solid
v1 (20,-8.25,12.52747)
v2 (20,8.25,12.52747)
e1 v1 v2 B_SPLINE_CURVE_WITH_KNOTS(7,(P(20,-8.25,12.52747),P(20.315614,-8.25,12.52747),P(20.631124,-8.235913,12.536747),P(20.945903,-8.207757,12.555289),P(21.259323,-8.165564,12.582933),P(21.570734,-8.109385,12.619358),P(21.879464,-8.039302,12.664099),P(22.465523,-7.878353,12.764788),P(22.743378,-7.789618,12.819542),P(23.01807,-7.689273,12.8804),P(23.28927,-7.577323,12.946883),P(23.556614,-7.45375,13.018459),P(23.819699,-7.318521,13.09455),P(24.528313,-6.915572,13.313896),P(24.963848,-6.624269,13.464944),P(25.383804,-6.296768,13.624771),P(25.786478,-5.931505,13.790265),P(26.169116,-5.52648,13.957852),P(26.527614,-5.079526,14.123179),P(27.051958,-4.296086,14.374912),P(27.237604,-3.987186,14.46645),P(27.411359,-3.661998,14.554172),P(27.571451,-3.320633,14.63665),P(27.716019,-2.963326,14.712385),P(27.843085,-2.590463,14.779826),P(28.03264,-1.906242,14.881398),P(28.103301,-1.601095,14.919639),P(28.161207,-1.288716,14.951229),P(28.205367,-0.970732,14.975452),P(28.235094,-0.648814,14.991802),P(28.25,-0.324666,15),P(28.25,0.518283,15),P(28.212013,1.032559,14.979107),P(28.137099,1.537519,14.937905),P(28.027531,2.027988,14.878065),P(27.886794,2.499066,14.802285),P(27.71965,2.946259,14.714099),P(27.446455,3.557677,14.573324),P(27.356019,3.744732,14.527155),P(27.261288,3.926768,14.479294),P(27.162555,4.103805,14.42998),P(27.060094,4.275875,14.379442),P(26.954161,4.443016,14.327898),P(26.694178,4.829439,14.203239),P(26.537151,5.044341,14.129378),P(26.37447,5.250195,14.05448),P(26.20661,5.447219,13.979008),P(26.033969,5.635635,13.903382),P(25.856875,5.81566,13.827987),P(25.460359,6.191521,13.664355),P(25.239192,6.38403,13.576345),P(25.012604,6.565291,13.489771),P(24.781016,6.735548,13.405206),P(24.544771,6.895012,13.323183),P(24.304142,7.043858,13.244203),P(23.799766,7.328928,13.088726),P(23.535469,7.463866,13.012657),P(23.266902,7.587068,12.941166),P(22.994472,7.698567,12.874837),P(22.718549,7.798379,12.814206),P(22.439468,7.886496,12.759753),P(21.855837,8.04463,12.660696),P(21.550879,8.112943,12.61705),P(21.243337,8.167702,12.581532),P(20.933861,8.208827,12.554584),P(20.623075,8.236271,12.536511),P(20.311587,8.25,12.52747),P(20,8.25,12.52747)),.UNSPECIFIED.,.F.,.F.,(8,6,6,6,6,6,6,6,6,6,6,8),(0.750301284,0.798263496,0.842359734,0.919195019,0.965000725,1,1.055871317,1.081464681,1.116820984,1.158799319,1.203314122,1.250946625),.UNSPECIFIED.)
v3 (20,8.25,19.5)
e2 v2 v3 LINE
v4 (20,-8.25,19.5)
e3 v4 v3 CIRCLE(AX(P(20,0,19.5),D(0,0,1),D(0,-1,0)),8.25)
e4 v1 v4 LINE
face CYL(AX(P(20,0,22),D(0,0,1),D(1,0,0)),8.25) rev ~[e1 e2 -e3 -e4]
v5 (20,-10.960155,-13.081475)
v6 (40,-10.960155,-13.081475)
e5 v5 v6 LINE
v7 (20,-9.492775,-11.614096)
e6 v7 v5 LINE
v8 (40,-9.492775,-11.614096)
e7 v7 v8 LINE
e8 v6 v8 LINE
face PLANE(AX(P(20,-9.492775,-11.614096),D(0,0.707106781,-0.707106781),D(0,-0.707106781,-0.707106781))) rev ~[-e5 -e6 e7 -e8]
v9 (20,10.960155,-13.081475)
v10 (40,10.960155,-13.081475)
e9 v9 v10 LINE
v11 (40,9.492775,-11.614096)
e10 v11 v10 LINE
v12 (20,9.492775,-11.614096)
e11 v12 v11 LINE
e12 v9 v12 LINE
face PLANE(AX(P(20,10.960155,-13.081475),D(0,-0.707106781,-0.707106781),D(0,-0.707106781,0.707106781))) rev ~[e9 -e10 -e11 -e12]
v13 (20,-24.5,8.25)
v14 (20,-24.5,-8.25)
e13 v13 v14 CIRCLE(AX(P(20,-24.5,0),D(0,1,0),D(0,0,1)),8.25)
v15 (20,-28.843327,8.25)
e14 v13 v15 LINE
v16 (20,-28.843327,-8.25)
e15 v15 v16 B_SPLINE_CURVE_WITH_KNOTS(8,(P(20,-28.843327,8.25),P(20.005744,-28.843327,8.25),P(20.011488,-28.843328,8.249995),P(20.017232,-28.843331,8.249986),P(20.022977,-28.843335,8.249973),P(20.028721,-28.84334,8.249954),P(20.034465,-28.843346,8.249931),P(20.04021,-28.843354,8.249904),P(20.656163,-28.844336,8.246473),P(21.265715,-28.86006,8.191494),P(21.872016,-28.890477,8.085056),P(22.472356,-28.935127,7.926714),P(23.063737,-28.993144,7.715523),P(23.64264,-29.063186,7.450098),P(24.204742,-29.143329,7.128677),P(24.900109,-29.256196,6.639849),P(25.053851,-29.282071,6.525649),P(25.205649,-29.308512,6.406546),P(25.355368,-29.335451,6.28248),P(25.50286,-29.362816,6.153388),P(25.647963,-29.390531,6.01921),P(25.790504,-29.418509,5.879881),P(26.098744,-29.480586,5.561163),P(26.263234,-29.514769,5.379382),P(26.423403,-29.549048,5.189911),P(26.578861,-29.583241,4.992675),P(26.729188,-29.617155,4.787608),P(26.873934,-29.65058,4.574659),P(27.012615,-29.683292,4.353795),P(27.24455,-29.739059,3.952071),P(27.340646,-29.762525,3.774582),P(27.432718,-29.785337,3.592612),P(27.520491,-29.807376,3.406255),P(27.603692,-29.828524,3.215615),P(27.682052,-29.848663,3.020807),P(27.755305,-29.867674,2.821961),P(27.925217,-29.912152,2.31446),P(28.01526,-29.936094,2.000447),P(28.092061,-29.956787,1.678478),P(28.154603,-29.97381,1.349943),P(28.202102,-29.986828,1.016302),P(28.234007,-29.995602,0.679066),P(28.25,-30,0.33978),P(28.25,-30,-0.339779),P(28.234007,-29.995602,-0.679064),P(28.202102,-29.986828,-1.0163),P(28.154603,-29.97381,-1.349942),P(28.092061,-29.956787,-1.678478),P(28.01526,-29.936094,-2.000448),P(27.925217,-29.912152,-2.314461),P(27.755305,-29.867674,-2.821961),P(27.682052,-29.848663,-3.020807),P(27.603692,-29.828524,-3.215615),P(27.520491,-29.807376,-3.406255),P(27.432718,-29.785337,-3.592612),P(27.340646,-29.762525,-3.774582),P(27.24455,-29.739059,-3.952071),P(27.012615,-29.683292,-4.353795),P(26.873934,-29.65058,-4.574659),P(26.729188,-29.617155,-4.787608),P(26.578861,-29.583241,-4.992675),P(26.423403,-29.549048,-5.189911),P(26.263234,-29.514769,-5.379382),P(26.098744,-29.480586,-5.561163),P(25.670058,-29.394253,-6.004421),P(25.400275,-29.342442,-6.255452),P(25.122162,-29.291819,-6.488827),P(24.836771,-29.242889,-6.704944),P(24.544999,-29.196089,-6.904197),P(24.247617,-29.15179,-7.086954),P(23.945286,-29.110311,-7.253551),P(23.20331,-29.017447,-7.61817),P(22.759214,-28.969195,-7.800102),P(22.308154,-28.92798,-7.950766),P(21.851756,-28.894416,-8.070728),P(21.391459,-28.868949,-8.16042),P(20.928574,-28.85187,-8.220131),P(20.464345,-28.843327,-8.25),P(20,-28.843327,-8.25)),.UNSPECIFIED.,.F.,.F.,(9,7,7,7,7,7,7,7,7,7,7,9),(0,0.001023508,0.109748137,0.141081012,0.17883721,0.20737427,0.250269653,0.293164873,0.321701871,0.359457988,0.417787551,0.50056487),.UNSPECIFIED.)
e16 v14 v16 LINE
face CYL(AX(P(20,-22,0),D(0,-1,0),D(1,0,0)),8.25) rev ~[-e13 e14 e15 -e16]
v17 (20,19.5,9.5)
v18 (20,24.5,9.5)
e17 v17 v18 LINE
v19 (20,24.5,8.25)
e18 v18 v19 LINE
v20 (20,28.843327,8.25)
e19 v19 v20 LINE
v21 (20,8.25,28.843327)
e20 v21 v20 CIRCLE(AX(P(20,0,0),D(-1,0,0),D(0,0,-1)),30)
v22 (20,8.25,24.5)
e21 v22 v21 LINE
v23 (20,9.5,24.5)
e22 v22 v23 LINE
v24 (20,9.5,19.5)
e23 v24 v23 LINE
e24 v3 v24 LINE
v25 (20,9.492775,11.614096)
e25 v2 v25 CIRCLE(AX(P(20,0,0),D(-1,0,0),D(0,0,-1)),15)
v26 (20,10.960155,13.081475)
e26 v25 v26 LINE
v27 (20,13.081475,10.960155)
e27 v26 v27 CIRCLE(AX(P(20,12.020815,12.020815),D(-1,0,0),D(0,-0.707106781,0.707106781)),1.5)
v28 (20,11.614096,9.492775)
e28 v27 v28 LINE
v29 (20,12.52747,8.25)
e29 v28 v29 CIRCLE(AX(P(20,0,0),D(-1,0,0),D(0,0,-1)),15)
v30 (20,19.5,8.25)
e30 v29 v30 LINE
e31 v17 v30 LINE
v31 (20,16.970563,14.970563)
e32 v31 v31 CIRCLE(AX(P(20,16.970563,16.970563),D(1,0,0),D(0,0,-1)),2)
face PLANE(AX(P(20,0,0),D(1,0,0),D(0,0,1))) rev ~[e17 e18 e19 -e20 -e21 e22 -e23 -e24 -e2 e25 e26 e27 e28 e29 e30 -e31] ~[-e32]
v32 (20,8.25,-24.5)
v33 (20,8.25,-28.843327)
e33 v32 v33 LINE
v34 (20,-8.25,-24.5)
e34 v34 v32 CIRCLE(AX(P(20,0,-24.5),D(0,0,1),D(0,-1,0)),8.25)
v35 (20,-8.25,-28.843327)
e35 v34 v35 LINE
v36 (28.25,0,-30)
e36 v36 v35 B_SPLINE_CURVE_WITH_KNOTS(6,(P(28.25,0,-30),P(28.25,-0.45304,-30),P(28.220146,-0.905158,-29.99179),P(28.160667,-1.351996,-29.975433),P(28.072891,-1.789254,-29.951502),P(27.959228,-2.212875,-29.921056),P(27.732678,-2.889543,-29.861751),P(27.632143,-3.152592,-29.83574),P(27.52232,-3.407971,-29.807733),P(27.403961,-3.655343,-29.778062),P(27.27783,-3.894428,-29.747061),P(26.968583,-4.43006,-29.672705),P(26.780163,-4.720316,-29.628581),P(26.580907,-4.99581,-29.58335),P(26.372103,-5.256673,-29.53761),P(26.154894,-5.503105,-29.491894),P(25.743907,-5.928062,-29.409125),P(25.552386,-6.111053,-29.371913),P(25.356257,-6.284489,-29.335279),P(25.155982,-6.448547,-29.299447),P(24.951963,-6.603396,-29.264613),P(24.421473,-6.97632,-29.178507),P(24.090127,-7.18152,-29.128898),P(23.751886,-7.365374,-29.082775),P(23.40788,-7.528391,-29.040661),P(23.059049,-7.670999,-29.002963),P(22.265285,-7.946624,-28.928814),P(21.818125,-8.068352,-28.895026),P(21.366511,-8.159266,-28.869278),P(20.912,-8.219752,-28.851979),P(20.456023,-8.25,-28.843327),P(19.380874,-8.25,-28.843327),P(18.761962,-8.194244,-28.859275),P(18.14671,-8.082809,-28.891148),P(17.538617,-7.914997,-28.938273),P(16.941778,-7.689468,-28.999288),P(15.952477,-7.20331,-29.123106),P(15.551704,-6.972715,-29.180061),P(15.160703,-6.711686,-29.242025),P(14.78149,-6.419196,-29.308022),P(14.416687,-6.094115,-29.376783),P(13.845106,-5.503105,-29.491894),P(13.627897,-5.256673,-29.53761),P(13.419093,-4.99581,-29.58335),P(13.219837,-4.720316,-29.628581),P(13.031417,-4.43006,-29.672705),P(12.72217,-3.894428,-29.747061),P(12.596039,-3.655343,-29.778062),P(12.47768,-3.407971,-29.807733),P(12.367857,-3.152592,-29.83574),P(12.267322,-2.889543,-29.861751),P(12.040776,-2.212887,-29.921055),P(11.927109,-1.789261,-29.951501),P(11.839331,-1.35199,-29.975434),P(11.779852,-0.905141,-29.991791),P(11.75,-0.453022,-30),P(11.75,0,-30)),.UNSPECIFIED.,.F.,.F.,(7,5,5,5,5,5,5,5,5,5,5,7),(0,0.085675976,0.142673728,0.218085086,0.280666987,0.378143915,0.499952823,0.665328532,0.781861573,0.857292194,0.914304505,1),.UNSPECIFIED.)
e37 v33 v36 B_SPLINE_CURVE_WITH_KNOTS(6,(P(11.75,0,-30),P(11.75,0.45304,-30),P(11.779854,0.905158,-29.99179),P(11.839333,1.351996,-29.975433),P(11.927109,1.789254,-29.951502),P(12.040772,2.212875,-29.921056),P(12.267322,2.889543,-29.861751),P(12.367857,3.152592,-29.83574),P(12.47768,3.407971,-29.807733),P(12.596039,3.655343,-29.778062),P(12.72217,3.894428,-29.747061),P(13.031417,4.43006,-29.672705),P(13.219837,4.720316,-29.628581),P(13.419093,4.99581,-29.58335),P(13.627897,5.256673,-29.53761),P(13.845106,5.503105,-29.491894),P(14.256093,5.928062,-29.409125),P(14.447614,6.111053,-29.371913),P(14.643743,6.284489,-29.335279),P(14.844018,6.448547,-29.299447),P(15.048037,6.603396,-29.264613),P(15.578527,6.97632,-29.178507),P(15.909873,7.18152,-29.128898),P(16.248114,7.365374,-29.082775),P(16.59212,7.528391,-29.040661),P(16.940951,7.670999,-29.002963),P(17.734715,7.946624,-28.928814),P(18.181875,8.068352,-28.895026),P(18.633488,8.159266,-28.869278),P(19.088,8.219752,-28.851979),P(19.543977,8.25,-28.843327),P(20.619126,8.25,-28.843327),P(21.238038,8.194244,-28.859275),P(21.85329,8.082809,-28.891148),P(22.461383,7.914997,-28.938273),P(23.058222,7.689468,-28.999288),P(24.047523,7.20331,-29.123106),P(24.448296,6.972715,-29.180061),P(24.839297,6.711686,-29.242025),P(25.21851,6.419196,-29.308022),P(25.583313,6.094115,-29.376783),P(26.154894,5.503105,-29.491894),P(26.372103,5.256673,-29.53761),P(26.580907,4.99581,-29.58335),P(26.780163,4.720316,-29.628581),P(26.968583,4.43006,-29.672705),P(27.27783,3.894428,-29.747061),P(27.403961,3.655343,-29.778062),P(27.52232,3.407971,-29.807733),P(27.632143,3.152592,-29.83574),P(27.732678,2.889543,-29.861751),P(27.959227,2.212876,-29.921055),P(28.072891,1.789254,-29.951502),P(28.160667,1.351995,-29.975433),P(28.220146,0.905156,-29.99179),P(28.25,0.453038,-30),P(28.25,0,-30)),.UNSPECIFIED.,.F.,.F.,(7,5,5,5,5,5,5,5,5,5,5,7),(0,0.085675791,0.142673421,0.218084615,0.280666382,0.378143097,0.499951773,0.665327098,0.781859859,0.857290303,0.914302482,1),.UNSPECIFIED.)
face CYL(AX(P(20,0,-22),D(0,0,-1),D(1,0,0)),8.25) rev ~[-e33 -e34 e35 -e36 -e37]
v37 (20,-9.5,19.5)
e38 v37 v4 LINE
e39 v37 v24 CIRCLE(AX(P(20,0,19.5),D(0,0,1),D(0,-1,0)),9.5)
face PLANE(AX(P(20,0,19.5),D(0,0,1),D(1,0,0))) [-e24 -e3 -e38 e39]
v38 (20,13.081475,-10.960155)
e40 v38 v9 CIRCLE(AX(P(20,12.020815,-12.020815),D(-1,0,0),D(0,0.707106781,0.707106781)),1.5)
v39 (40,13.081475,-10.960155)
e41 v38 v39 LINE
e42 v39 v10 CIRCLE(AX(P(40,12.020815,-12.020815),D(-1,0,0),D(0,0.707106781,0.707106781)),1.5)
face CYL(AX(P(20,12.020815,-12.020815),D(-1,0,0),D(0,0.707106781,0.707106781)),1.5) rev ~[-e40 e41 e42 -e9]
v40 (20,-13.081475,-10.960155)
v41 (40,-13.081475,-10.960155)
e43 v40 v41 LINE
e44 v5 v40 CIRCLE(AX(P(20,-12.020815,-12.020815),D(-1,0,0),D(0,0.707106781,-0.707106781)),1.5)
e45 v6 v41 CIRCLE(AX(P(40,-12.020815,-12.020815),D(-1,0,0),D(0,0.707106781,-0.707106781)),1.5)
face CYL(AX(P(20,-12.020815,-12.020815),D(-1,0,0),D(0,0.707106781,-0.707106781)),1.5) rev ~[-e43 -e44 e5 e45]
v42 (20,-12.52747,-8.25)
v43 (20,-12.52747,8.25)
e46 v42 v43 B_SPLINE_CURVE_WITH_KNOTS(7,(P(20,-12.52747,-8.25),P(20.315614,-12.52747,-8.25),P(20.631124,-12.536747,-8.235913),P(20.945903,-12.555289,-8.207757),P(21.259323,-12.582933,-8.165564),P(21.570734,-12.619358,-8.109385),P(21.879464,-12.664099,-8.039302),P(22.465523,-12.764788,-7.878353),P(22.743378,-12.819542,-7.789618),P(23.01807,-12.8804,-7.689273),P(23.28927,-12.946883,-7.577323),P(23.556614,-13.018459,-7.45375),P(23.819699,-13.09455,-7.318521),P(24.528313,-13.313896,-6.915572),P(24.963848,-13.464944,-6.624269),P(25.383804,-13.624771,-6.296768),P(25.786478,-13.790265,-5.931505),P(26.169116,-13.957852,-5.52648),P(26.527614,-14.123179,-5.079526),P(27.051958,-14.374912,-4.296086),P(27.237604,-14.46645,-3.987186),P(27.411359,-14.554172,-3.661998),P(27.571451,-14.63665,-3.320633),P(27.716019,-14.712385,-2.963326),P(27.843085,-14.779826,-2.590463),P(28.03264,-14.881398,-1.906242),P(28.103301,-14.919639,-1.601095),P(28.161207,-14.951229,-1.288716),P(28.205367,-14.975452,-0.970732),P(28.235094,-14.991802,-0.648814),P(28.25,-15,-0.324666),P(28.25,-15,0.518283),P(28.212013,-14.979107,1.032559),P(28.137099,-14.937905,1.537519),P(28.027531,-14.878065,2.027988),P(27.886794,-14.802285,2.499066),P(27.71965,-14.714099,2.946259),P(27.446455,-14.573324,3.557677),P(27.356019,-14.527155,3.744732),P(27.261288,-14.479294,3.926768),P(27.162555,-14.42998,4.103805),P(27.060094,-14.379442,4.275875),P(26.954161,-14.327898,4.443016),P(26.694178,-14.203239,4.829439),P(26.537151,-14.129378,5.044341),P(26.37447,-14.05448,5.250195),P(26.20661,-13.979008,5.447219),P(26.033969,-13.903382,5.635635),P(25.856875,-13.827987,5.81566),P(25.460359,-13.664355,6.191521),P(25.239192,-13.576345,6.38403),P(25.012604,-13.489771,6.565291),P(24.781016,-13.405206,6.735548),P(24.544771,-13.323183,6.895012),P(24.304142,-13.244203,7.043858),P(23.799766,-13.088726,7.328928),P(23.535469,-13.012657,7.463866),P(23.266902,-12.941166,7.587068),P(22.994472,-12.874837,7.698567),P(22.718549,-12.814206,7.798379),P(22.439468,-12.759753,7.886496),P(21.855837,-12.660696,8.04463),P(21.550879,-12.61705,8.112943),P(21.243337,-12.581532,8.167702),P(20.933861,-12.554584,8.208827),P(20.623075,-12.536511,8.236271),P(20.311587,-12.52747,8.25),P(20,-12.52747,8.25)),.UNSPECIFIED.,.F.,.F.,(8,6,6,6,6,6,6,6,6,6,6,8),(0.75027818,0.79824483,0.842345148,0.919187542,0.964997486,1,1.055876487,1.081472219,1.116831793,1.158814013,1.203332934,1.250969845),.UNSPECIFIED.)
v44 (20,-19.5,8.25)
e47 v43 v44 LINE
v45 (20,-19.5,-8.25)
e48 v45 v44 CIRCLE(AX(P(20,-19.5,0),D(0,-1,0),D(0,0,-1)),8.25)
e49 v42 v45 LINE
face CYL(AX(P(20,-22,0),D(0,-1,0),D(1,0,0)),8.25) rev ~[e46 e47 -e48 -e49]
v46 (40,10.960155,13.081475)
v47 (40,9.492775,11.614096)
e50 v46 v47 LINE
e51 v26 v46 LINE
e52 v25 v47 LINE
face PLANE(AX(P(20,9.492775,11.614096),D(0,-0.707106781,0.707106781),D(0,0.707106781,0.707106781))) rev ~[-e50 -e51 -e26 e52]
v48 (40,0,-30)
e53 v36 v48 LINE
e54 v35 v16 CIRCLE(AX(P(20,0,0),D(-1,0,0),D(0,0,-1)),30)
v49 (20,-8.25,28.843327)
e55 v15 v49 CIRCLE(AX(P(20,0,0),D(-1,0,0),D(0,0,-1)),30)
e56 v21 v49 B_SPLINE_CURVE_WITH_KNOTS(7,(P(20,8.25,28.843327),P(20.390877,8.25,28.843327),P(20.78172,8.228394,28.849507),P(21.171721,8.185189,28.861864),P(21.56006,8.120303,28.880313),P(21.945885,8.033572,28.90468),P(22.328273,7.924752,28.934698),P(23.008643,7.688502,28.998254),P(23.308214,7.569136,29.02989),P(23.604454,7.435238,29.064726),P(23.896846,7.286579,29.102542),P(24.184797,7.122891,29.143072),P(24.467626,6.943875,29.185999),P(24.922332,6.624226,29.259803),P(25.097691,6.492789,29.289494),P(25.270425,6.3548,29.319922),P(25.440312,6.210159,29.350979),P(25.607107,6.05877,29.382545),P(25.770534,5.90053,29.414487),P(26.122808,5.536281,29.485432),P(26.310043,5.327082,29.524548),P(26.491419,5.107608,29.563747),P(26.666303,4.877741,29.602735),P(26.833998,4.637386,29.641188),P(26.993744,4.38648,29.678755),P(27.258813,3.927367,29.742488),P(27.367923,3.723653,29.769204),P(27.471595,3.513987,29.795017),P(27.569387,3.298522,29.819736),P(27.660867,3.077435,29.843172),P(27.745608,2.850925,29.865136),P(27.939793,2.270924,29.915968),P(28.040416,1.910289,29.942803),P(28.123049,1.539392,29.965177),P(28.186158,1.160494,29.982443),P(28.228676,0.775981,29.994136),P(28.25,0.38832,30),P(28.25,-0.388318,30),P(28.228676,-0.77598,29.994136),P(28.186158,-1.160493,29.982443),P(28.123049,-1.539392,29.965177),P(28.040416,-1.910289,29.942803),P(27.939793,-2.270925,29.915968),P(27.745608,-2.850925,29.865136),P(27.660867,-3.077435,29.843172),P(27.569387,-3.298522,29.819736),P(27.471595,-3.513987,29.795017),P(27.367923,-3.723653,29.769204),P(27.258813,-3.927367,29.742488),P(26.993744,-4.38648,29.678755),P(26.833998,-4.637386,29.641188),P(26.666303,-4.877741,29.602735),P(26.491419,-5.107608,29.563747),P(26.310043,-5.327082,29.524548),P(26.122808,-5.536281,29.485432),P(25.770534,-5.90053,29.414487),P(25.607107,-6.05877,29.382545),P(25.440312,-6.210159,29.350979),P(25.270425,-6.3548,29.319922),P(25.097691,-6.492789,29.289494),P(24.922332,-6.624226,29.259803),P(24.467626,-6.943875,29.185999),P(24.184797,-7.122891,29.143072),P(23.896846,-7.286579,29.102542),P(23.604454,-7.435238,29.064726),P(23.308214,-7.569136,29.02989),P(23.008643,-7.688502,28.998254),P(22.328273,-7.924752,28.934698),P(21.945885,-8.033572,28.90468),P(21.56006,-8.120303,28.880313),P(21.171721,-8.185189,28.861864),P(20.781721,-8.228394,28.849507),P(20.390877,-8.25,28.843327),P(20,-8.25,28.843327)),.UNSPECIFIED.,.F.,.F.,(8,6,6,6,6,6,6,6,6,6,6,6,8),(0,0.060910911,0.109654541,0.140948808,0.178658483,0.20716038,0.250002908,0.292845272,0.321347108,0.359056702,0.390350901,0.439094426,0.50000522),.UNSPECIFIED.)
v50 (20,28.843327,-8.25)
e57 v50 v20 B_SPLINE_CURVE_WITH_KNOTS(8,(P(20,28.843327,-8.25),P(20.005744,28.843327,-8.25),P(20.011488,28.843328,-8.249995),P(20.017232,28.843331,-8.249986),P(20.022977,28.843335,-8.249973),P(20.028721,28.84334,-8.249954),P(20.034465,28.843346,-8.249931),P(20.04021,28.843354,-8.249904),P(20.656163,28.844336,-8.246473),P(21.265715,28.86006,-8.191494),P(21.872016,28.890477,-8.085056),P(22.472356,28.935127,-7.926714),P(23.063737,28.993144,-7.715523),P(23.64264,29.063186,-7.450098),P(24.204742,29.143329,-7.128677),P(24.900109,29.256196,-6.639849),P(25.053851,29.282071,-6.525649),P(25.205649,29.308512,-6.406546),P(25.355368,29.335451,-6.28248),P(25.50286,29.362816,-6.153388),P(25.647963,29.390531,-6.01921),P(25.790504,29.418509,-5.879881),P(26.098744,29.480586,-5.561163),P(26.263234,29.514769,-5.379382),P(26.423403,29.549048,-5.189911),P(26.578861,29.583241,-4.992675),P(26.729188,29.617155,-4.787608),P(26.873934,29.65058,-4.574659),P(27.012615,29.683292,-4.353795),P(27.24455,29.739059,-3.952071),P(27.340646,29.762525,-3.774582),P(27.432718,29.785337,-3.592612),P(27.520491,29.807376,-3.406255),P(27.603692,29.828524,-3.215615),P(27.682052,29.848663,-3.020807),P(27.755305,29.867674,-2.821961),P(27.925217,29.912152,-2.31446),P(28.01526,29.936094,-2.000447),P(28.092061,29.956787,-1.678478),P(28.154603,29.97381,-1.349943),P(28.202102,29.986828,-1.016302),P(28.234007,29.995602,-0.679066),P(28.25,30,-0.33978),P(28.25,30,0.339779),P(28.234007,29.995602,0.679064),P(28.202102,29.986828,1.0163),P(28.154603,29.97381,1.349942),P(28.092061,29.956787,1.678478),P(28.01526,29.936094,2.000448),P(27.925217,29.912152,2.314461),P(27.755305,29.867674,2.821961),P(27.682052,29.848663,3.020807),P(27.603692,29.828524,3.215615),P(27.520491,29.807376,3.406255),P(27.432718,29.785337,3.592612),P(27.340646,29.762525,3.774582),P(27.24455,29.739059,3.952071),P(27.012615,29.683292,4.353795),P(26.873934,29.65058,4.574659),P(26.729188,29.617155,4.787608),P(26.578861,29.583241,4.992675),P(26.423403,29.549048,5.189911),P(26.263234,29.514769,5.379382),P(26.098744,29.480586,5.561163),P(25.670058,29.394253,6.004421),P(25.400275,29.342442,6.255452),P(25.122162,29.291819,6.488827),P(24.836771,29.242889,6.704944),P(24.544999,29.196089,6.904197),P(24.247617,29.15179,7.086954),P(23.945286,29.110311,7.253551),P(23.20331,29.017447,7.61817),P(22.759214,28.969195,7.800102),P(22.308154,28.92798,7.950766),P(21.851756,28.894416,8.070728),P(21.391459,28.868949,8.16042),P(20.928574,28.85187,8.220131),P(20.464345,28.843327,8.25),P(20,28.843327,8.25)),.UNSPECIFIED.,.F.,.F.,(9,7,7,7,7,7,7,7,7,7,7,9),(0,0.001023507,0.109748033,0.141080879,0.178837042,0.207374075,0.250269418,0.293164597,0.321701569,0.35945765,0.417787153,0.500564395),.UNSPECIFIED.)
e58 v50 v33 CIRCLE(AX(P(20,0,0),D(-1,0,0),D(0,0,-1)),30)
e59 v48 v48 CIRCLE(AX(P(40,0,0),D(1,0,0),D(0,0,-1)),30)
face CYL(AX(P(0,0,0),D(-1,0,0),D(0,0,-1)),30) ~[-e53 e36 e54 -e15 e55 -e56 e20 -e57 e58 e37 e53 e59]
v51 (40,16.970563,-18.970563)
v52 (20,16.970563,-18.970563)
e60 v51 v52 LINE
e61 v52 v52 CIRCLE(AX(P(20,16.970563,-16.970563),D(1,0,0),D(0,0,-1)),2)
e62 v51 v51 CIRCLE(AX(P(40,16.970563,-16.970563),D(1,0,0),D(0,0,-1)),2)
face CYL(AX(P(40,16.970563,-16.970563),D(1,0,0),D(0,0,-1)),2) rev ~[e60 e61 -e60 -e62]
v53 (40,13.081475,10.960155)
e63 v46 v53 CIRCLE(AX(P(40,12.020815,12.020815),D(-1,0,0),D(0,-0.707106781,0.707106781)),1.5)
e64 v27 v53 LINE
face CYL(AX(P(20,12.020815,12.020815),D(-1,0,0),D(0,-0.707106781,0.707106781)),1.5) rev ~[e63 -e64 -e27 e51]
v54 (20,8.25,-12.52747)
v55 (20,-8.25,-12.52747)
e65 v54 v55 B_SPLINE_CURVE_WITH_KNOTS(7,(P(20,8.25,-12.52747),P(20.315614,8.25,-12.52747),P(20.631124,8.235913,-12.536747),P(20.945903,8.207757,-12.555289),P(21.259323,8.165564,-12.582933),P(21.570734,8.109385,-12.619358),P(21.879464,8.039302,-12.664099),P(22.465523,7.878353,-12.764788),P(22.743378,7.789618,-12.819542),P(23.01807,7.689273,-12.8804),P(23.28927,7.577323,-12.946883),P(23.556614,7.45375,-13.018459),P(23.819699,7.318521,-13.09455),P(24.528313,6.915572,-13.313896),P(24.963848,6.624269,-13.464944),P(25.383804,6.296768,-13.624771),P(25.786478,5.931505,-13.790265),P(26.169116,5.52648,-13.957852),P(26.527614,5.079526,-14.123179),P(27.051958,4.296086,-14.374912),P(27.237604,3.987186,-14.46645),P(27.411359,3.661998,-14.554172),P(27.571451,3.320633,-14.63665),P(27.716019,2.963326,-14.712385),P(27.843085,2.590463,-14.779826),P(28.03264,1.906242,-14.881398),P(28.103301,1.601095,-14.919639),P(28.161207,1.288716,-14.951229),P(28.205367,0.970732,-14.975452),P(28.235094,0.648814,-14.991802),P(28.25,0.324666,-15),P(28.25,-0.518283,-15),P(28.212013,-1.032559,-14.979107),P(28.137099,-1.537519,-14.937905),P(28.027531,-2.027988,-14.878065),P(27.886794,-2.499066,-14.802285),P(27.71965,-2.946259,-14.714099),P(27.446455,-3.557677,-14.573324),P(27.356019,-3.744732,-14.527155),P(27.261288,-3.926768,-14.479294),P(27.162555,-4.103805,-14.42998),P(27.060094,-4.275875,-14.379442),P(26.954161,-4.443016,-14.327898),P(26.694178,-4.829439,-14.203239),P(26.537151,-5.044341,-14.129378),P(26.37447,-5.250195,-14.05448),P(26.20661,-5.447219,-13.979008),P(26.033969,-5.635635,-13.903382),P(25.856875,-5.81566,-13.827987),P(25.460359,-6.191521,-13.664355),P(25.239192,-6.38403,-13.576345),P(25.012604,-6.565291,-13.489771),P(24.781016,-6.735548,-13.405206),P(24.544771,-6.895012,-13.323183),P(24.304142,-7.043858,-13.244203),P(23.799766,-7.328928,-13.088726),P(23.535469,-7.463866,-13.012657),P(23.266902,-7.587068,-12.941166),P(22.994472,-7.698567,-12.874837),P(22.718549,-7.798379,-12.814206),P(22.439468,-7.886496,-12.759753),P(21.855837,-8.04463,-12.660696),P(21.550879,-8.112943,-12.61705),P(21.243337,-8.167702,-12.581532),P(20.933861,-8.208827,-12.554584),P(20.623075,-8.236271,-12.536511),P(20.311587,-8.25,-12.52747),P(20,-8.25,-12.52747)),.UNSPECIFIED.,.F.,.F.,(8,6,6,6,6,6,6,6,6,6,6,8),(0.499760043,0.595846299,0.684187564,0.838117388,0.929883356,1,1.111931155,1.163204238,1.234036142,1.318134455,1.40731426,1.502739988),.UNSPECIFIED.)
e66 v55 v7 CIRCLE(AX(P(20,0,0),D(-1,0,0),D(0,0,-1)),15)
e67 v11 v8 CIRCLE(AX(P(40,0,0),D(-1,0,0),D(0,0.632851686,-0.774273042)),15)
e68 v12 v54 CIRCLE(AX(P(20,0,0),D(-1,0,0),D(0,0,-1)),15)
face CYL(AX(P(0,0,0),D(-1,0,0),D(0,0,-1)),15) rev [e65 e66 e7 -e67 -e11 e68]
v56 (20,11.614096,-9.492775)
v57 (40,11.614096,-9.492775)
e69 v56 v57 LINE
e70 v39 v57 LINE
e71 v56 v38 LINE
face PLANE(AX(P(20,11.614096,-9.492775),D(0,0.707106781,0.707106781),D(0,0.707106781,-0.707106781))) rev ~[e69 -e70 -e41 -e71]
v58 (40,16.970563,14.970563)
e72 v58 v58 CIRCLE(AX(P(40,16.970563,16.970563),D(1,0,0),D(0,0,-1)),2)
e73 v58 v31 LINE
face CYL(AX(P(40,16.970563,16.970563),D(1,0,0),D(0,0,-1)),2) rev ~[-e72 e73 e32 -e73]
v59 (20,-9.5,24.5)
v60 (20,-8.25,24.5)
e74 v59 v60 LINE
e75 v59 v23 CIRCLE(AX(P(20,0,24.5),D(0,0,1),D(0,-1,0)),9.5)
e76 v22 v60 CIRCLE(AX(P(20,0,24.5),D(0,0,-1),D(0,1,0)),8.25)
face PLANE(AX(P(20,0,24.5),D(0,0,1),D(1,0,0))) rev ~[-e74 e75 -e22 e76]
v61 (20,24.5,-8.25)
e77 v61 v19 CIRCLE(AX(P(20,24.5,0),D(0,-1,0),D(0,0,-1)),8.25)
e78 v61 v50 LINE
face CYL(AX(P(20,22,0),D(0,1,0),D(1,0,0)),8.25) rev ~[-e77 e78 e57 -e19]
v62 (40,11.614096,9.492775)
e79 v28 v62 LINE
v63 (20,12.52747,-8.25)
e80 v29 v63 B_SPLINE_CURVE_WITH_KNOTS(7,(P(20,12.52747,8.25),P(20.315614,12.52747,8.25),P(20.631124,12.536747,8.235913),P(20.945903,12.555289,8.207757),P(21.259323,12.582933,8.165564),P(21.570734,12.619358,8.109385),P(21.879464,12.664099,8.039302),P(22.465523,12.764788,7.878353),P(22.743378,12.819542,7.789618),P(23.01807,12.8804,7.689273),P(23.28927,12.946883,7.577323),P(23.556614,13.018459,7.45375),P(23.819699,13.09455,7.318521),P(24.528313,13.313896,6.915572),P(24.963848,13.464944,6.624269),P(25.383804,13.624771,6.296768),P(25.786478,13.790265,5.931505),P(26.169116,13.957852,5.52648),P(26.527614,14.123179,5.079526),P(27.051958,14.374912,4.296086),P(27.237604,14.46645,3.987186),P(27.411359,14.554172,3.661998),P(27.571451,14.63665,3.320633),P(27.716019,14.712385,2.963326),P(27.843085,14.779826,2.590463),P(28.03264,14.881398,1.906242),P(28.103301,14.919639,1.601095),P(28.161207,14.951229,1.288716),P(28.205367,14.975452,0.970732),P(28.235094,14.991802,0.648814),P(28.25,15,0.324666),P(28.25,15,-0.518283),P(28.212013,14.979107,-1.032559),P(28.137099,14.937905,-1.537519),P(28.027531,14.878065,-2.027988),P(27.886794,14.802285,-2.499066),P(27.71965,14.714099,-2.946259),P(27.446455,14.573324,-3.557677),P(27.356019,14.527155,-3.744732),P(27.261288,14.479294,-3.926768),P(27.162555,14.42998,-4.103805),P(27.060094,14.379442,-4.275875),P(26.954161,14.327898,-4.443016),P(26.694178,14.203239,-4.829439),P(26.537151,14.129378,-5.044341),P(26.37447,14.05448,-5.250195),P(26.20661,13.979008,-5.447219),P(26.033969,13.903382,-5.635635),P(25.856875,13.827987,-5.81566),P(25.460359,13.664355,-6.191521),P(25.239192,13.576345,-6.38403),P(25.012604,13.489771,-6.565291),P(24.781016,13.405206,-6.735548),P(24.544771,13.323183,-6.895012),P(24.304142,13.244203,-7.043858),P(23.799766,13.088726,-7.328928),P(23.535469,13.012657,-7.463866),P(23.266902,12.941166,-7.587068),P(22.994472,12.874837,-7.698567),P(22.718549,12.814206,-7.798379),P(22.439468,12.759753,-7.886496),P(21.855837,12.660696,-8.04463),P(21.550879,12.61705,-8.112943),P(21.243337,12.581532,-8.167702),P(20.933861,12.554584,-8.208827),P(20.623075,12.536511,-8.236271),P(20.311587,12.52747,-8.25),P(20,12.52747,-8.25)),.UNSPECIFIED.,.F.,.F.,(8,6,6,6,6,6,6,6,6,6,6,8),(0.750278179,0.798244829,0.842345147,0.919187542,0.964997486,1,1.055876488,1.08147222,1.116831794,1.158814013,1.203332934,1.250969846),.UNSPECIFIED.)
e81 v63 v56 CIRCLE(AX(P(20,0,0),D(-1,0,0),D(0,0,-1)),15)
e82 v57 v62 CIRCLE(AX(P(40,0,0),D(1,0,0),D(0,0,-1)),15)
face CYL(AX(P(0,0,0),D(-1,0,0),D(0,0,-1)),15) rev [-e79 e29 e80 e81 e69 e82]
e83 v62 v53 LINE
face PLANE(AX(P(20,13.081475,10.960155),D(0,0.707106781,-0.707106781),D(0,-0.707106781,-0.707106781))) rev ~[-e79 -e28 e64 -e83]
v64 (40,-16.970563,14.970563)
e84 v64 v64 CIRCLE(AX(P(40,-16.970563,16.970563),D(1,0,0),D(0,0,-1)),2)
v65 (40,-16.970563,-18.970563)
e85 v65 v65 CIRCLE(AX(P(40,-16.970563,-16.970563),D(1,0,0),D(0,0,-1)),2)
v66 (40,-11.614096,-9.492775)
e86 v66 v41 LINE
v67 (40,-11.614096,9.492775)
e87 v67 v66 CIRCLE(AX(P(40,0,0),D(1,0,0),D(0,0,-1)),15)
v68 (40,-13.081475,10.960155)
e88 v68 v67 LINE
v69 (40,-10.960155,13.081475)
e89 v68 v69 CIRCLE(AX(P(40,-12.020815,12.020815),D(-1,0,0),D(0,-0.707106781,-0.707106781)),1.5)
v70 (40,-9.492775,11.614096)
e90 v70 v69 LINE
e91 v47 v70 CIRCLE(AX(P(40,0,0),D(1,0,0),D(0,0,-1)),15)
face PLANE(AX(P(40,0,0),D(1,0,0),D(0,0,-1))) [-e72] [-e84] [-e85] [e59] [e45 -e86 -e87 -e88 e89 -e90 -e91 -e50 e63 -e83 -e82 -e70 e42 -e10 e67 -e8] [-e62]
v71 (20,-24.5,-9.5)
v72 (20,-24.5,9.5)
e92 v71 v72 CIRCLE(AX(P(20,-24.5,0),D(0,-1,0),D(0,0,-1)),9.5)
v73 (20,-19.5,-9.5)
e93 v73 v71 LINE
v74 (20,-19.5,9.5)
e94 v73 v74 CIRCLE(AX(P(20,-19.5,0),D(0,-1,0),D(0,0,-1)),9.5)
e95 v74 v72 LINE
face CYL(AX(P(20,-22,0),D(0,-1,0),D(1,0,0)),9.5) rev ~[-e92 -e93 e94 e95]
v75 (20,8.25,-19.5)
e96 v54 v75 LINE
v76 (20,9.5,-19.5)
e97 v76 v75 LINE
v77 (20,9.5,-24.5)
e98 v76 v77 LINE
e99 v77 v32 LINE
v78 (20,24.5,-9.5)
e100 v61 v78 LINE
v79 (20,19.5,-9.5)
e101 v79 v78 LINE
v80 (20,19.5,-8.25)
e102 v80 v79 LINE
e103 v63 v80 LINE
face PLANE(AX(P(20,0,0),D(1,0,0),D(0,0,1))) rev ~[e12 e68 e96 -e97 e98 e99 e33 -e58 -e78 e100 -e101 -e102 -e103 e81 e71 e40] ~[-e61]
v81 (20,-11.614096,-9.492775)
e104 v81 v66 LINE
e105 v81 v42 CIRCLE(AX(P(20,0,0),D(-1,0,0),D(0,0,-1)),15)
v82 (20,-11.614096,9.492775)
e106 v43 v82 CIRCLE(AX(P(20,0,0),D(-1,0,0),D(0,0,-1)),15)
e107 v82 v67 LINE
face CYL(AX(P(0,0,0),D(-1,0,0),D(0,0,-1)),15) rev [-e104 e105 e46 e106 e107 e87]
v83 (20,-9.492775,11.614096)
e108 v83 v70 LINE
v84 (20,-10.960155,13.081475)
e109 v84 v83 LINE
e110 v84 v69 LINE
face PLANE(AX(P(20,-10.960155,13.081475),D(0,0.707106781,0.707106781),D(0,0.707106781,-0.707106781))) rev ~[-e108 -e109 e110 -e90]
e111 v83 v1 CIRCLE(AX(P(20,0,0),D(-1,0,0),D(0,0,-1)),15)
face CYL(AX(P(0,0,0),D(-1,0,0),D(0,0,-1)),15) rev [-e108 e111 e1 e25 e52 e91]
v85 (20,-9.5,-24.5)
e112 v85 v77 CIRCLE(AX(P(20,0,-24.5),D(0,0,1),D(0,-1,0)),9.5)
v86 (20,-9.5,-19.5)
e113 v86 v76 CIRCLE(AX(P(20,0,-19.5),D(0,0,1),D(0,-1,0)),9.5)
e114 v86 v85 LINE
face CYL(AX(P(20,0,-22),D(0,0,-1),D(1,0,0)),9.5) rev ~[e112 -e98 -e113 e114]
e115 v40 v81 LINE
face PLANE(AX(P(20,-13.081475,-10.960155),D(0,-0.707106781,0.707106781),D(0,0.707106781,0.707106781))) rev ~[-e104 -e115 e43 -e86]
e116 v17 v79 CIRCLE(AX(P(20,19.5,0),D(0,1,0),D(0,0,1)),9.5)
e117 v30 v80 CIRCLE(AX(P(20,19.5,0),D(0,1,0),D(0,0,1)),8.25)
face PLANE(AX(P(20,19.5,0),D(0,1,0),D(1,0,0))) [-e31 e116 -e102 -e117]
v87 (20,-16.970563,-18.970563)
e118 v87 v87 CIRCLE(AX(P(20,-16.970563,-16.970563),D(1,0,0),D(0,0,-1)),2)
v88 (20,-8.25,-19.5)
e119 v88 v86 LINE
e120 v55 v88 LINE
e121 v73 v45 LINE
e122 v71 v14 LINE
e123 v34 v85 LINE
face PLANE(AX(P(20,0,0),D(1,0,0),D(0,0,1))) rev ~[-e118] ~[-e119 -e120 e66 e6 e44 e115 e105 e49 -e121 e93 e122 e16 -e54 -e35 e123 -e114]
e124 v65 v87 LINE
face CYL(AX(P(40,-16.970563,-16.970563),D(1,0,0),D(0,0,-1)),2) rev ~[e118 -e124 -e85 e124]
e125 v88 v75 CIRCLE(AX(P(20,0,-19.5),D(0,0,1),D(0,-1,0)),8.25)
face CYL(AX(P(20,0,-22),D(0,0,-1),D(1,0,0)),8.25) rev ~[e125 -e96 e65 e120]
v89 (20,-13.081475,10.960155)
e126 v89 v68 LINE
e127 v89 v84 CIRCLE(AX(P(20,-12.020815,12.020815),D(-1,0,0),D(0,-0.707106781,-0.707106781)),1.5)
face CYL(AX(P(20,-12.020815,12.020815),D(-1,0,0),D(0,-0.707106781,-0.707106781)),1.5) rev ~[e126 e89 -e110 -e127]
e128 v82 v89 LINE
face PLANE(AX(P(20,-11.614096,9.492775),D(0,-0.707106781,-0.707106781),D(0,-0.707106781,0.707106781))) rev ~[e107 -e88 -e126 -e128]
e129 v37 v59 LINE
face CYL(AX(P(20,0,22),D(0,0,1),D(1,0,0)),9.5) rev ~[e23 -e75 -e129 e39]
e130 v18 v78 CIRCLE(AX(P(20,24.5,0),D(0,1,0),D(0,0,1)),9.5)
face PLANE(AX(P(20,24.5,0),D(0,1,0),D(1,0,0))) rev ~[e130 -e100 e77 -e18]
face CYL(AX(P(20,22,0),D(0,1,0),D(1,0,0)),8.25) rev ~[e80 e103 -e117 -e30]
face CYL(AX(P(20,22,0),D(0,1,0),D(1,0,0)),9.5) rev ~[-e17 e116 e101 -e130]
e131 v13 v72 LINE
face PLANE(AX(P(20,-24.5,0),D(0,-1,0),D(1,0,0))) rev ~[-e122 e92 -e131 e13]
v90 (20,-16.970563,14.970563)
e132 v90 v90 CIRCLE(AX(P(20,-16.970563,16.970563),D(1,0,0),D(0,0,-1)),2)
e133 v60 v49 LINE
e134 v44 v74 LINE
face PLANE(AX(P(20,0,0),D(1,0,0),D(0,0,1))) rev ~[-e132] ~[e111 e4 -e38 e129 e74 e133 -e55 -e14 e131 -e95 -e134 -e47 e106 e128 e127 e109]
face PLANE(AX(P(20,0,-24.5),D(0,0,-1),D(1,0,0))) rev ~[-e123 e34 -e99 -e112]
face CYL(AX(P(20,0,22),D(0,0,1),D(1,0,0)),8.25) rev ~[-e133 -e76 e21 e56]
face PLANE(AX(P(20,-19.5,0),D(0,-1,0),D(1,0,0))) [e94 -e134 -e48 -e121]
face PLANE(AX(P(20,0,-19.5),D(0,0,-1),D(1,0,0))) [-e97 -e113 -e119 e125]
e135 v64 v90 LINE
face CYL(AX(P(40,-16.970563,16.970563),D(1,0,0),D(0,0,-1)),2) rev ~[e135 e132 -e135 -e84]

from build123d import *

# Parameters (mm, degrees)
SKETCH1_R           = 30
SKETCH1_R_2         = 15
BOSS_EXTRUDE1_DEPTH = 40
SKETCH2_R           = 9.5
CUT_EXTRUDE1_DEPTH  = 2.5
SKETCH3_R           = 8.25
CUT_EXTRUDE2_DEPTH  = 15
CIRPATTERN1_COUNT   = 4
SKETCH4_R           = 2
CUT_EXTRUDE3_DEPTH  = 47.904157769
CUT_EXTRUDE4_DEPTH  = 47.904157769


with BuildPart() as part:
    # Sketch1 → Boss-Extrude1 (new body)
    with BuildSketch(Plane(origin=(0, 0, 0), x_dir=(0, 0, -1), z_dir=(1, 0, 0))):
        Circle(SKETCH1_R)
        Circle(SKETCH1_R_2, mode=Mode.SUBTRACT)
    extrude(amount=BOSS_EXTRUDE1_DEPTH)

    # Sketch2 → Cut-Extrude1 (cut, symmetric)
    with BuildSketch(Plane.XY.offset(22)):
        with Locations((20, 0)):
            Circle(SKETCH2_R)
    cut_extrude1 = extrude(amount=CUT_EXTRUDE1_DEPTH, both=True, mode=Mode.SUBTRACT)

    # Sketch3 → Cut-Extrude2 (cut, symmetric)
    with BuildSketch(Plane.XY.offset(22)):
        with Locations((20, 0)):
            Circle(SKETCH3_R)
    cut_extrude2 = extrude(amount=CUT_EXTRUDE2_DEPTH, both=True, mode=Mode.SUBTRACT)

    # CirPattern1: Cut-Extrude1, Cut-Extrude2 ×4 about axis
    cirpattern1_axis = Axis((0, 0, 0), (1, 0, 0))
    add([cut_extrude1.rotate(cirpattern1_axis, i * 360 / CIRPATTERN1_COUNT) for i in range(1, CIRPATTERN1_COUNT)], mode=Mode.SUBTRACT)
    add([cut_extrude2.rotate(cirpattern1_axis, i * 360 / CIRPATTERN1_COUNT) for i in range(1, CIRPATTERN1_COUNT)], mode=Mode.SUBTRACT)


with BuildPart() as body_2:
    # Split2: the piece on the far side of the plane
    add(part.part)
    split(bisect_by=Plane(origin=(20, 0, 0), x_dir=(0, 0, 1), z_dir=(1, 0, 0)), keep=Keep.BOTTOM)


with BuildPart() as part_1:
    add(part.part)

    # Split2
    split(bisect_by=Plane(origin=(20, 0, 0), x_dir=(0, 0, 1), z_dir=(1, 0, 0)), keep=Keep.TOP)

    # Sketch4 → Cut-Extrude3 (cut, through all)
    with BuildSketch(Plane(origin=(40, 0, 0), x_dir=(0, 0, -1), z_dir=(1, 0, 0))):
        with Locations((-16.970562748, 16.970562748)):
            Circle(SKETCH4_R)
        with Locations((16.970562748, 16.970562748)):
            Circle(SKETCH4_R)
        with Locations((16.970562748, -16.970562748)):
            Circle(SKETCH4_R)
        with Locations((-16.970562748, -16.970562748)):
            Circle(SKETCH4_R)
    extrude(amount=-CUT_EXTRUDE3_DEPTH, mode=Mode.SUBTRACT)

    # Sketch5 → Cut-Extrude4 (cut, through all)
    with BuildSketch(Plane.ZY.offset(-20)):
        with BuildLine():
            ThreePointArc((-11.614095631, 9.492775288), (-11.124297731, 10.062305899), (-10.606601718, 10.606601718))
            ThreePointArc((-10.606601718, 10.606601718), (-10.062305899, 11.124297731), (-9.492775288, 11.614095631))
            Line((-9.492775288, 11.614095631), (-10.960155108, 13.081475452))
            ThreePointArc((-10.960155108, 13.081475452), (-13.081475452, 13.081475452), (-13.081475452, 10.960155108))
            Line((-13.081475452, 10.960155108), (-11.614095631, 9.492775288))
        make_face()
        with BuildLine():
            ThreePointArc((13.081475452, 10.960155108), (13.081475452, 13.081475452), (10.960155108, 13.081475452))
            Line((10.960155108, 13.081475452), (9.492775288, 11.614095631))
            ThreePointArc((9.492775288, 11.614095631), (10.606601718, 10.606601718), (11.614095631, 9.492775288))
            Line((11.614095631, 9.492775288), (13.081475452, 10.960155108))
        make_face()
        with BuildLine():
            ThreePointArc((10.960155108, -13.081475452), (13.081475452, -13.081475452), (13.081475452, -10.960155108))
            Line((13.081475452, -10.960155108), (11.614095631, -9.492775288))
            ThreePointArc((11.614095631, -9.492775288), (10.606601718, -10.606601718), (9.492775288, -11.614095631))
            Line((9.492775288, -11.614095631), (10.960155108, -13.081475452))
        make_face()
        with BuildLine():
            ThreePointArc((-13.081475452, -10.960155108), (-13.081475452, -13.081475452), (-10.960155108, -13.081475452))
            Line((-10.960155108, -13.081475452), (-9.492775288, -11.614095631))
            ThreePointArc((-9.492775288, -11.614095631), (-10.606601718, -10.606601718), (-11.614095631, -9.492775288))
            Line((-11.614095631, -9.492775288), (-13.081475452, -10.960155108))
        make_face()
    extrude(amount=-CUT_EXTRUDE4_DEPTH, mode=Mode.SUBTRACT)


solid = part_1.part
